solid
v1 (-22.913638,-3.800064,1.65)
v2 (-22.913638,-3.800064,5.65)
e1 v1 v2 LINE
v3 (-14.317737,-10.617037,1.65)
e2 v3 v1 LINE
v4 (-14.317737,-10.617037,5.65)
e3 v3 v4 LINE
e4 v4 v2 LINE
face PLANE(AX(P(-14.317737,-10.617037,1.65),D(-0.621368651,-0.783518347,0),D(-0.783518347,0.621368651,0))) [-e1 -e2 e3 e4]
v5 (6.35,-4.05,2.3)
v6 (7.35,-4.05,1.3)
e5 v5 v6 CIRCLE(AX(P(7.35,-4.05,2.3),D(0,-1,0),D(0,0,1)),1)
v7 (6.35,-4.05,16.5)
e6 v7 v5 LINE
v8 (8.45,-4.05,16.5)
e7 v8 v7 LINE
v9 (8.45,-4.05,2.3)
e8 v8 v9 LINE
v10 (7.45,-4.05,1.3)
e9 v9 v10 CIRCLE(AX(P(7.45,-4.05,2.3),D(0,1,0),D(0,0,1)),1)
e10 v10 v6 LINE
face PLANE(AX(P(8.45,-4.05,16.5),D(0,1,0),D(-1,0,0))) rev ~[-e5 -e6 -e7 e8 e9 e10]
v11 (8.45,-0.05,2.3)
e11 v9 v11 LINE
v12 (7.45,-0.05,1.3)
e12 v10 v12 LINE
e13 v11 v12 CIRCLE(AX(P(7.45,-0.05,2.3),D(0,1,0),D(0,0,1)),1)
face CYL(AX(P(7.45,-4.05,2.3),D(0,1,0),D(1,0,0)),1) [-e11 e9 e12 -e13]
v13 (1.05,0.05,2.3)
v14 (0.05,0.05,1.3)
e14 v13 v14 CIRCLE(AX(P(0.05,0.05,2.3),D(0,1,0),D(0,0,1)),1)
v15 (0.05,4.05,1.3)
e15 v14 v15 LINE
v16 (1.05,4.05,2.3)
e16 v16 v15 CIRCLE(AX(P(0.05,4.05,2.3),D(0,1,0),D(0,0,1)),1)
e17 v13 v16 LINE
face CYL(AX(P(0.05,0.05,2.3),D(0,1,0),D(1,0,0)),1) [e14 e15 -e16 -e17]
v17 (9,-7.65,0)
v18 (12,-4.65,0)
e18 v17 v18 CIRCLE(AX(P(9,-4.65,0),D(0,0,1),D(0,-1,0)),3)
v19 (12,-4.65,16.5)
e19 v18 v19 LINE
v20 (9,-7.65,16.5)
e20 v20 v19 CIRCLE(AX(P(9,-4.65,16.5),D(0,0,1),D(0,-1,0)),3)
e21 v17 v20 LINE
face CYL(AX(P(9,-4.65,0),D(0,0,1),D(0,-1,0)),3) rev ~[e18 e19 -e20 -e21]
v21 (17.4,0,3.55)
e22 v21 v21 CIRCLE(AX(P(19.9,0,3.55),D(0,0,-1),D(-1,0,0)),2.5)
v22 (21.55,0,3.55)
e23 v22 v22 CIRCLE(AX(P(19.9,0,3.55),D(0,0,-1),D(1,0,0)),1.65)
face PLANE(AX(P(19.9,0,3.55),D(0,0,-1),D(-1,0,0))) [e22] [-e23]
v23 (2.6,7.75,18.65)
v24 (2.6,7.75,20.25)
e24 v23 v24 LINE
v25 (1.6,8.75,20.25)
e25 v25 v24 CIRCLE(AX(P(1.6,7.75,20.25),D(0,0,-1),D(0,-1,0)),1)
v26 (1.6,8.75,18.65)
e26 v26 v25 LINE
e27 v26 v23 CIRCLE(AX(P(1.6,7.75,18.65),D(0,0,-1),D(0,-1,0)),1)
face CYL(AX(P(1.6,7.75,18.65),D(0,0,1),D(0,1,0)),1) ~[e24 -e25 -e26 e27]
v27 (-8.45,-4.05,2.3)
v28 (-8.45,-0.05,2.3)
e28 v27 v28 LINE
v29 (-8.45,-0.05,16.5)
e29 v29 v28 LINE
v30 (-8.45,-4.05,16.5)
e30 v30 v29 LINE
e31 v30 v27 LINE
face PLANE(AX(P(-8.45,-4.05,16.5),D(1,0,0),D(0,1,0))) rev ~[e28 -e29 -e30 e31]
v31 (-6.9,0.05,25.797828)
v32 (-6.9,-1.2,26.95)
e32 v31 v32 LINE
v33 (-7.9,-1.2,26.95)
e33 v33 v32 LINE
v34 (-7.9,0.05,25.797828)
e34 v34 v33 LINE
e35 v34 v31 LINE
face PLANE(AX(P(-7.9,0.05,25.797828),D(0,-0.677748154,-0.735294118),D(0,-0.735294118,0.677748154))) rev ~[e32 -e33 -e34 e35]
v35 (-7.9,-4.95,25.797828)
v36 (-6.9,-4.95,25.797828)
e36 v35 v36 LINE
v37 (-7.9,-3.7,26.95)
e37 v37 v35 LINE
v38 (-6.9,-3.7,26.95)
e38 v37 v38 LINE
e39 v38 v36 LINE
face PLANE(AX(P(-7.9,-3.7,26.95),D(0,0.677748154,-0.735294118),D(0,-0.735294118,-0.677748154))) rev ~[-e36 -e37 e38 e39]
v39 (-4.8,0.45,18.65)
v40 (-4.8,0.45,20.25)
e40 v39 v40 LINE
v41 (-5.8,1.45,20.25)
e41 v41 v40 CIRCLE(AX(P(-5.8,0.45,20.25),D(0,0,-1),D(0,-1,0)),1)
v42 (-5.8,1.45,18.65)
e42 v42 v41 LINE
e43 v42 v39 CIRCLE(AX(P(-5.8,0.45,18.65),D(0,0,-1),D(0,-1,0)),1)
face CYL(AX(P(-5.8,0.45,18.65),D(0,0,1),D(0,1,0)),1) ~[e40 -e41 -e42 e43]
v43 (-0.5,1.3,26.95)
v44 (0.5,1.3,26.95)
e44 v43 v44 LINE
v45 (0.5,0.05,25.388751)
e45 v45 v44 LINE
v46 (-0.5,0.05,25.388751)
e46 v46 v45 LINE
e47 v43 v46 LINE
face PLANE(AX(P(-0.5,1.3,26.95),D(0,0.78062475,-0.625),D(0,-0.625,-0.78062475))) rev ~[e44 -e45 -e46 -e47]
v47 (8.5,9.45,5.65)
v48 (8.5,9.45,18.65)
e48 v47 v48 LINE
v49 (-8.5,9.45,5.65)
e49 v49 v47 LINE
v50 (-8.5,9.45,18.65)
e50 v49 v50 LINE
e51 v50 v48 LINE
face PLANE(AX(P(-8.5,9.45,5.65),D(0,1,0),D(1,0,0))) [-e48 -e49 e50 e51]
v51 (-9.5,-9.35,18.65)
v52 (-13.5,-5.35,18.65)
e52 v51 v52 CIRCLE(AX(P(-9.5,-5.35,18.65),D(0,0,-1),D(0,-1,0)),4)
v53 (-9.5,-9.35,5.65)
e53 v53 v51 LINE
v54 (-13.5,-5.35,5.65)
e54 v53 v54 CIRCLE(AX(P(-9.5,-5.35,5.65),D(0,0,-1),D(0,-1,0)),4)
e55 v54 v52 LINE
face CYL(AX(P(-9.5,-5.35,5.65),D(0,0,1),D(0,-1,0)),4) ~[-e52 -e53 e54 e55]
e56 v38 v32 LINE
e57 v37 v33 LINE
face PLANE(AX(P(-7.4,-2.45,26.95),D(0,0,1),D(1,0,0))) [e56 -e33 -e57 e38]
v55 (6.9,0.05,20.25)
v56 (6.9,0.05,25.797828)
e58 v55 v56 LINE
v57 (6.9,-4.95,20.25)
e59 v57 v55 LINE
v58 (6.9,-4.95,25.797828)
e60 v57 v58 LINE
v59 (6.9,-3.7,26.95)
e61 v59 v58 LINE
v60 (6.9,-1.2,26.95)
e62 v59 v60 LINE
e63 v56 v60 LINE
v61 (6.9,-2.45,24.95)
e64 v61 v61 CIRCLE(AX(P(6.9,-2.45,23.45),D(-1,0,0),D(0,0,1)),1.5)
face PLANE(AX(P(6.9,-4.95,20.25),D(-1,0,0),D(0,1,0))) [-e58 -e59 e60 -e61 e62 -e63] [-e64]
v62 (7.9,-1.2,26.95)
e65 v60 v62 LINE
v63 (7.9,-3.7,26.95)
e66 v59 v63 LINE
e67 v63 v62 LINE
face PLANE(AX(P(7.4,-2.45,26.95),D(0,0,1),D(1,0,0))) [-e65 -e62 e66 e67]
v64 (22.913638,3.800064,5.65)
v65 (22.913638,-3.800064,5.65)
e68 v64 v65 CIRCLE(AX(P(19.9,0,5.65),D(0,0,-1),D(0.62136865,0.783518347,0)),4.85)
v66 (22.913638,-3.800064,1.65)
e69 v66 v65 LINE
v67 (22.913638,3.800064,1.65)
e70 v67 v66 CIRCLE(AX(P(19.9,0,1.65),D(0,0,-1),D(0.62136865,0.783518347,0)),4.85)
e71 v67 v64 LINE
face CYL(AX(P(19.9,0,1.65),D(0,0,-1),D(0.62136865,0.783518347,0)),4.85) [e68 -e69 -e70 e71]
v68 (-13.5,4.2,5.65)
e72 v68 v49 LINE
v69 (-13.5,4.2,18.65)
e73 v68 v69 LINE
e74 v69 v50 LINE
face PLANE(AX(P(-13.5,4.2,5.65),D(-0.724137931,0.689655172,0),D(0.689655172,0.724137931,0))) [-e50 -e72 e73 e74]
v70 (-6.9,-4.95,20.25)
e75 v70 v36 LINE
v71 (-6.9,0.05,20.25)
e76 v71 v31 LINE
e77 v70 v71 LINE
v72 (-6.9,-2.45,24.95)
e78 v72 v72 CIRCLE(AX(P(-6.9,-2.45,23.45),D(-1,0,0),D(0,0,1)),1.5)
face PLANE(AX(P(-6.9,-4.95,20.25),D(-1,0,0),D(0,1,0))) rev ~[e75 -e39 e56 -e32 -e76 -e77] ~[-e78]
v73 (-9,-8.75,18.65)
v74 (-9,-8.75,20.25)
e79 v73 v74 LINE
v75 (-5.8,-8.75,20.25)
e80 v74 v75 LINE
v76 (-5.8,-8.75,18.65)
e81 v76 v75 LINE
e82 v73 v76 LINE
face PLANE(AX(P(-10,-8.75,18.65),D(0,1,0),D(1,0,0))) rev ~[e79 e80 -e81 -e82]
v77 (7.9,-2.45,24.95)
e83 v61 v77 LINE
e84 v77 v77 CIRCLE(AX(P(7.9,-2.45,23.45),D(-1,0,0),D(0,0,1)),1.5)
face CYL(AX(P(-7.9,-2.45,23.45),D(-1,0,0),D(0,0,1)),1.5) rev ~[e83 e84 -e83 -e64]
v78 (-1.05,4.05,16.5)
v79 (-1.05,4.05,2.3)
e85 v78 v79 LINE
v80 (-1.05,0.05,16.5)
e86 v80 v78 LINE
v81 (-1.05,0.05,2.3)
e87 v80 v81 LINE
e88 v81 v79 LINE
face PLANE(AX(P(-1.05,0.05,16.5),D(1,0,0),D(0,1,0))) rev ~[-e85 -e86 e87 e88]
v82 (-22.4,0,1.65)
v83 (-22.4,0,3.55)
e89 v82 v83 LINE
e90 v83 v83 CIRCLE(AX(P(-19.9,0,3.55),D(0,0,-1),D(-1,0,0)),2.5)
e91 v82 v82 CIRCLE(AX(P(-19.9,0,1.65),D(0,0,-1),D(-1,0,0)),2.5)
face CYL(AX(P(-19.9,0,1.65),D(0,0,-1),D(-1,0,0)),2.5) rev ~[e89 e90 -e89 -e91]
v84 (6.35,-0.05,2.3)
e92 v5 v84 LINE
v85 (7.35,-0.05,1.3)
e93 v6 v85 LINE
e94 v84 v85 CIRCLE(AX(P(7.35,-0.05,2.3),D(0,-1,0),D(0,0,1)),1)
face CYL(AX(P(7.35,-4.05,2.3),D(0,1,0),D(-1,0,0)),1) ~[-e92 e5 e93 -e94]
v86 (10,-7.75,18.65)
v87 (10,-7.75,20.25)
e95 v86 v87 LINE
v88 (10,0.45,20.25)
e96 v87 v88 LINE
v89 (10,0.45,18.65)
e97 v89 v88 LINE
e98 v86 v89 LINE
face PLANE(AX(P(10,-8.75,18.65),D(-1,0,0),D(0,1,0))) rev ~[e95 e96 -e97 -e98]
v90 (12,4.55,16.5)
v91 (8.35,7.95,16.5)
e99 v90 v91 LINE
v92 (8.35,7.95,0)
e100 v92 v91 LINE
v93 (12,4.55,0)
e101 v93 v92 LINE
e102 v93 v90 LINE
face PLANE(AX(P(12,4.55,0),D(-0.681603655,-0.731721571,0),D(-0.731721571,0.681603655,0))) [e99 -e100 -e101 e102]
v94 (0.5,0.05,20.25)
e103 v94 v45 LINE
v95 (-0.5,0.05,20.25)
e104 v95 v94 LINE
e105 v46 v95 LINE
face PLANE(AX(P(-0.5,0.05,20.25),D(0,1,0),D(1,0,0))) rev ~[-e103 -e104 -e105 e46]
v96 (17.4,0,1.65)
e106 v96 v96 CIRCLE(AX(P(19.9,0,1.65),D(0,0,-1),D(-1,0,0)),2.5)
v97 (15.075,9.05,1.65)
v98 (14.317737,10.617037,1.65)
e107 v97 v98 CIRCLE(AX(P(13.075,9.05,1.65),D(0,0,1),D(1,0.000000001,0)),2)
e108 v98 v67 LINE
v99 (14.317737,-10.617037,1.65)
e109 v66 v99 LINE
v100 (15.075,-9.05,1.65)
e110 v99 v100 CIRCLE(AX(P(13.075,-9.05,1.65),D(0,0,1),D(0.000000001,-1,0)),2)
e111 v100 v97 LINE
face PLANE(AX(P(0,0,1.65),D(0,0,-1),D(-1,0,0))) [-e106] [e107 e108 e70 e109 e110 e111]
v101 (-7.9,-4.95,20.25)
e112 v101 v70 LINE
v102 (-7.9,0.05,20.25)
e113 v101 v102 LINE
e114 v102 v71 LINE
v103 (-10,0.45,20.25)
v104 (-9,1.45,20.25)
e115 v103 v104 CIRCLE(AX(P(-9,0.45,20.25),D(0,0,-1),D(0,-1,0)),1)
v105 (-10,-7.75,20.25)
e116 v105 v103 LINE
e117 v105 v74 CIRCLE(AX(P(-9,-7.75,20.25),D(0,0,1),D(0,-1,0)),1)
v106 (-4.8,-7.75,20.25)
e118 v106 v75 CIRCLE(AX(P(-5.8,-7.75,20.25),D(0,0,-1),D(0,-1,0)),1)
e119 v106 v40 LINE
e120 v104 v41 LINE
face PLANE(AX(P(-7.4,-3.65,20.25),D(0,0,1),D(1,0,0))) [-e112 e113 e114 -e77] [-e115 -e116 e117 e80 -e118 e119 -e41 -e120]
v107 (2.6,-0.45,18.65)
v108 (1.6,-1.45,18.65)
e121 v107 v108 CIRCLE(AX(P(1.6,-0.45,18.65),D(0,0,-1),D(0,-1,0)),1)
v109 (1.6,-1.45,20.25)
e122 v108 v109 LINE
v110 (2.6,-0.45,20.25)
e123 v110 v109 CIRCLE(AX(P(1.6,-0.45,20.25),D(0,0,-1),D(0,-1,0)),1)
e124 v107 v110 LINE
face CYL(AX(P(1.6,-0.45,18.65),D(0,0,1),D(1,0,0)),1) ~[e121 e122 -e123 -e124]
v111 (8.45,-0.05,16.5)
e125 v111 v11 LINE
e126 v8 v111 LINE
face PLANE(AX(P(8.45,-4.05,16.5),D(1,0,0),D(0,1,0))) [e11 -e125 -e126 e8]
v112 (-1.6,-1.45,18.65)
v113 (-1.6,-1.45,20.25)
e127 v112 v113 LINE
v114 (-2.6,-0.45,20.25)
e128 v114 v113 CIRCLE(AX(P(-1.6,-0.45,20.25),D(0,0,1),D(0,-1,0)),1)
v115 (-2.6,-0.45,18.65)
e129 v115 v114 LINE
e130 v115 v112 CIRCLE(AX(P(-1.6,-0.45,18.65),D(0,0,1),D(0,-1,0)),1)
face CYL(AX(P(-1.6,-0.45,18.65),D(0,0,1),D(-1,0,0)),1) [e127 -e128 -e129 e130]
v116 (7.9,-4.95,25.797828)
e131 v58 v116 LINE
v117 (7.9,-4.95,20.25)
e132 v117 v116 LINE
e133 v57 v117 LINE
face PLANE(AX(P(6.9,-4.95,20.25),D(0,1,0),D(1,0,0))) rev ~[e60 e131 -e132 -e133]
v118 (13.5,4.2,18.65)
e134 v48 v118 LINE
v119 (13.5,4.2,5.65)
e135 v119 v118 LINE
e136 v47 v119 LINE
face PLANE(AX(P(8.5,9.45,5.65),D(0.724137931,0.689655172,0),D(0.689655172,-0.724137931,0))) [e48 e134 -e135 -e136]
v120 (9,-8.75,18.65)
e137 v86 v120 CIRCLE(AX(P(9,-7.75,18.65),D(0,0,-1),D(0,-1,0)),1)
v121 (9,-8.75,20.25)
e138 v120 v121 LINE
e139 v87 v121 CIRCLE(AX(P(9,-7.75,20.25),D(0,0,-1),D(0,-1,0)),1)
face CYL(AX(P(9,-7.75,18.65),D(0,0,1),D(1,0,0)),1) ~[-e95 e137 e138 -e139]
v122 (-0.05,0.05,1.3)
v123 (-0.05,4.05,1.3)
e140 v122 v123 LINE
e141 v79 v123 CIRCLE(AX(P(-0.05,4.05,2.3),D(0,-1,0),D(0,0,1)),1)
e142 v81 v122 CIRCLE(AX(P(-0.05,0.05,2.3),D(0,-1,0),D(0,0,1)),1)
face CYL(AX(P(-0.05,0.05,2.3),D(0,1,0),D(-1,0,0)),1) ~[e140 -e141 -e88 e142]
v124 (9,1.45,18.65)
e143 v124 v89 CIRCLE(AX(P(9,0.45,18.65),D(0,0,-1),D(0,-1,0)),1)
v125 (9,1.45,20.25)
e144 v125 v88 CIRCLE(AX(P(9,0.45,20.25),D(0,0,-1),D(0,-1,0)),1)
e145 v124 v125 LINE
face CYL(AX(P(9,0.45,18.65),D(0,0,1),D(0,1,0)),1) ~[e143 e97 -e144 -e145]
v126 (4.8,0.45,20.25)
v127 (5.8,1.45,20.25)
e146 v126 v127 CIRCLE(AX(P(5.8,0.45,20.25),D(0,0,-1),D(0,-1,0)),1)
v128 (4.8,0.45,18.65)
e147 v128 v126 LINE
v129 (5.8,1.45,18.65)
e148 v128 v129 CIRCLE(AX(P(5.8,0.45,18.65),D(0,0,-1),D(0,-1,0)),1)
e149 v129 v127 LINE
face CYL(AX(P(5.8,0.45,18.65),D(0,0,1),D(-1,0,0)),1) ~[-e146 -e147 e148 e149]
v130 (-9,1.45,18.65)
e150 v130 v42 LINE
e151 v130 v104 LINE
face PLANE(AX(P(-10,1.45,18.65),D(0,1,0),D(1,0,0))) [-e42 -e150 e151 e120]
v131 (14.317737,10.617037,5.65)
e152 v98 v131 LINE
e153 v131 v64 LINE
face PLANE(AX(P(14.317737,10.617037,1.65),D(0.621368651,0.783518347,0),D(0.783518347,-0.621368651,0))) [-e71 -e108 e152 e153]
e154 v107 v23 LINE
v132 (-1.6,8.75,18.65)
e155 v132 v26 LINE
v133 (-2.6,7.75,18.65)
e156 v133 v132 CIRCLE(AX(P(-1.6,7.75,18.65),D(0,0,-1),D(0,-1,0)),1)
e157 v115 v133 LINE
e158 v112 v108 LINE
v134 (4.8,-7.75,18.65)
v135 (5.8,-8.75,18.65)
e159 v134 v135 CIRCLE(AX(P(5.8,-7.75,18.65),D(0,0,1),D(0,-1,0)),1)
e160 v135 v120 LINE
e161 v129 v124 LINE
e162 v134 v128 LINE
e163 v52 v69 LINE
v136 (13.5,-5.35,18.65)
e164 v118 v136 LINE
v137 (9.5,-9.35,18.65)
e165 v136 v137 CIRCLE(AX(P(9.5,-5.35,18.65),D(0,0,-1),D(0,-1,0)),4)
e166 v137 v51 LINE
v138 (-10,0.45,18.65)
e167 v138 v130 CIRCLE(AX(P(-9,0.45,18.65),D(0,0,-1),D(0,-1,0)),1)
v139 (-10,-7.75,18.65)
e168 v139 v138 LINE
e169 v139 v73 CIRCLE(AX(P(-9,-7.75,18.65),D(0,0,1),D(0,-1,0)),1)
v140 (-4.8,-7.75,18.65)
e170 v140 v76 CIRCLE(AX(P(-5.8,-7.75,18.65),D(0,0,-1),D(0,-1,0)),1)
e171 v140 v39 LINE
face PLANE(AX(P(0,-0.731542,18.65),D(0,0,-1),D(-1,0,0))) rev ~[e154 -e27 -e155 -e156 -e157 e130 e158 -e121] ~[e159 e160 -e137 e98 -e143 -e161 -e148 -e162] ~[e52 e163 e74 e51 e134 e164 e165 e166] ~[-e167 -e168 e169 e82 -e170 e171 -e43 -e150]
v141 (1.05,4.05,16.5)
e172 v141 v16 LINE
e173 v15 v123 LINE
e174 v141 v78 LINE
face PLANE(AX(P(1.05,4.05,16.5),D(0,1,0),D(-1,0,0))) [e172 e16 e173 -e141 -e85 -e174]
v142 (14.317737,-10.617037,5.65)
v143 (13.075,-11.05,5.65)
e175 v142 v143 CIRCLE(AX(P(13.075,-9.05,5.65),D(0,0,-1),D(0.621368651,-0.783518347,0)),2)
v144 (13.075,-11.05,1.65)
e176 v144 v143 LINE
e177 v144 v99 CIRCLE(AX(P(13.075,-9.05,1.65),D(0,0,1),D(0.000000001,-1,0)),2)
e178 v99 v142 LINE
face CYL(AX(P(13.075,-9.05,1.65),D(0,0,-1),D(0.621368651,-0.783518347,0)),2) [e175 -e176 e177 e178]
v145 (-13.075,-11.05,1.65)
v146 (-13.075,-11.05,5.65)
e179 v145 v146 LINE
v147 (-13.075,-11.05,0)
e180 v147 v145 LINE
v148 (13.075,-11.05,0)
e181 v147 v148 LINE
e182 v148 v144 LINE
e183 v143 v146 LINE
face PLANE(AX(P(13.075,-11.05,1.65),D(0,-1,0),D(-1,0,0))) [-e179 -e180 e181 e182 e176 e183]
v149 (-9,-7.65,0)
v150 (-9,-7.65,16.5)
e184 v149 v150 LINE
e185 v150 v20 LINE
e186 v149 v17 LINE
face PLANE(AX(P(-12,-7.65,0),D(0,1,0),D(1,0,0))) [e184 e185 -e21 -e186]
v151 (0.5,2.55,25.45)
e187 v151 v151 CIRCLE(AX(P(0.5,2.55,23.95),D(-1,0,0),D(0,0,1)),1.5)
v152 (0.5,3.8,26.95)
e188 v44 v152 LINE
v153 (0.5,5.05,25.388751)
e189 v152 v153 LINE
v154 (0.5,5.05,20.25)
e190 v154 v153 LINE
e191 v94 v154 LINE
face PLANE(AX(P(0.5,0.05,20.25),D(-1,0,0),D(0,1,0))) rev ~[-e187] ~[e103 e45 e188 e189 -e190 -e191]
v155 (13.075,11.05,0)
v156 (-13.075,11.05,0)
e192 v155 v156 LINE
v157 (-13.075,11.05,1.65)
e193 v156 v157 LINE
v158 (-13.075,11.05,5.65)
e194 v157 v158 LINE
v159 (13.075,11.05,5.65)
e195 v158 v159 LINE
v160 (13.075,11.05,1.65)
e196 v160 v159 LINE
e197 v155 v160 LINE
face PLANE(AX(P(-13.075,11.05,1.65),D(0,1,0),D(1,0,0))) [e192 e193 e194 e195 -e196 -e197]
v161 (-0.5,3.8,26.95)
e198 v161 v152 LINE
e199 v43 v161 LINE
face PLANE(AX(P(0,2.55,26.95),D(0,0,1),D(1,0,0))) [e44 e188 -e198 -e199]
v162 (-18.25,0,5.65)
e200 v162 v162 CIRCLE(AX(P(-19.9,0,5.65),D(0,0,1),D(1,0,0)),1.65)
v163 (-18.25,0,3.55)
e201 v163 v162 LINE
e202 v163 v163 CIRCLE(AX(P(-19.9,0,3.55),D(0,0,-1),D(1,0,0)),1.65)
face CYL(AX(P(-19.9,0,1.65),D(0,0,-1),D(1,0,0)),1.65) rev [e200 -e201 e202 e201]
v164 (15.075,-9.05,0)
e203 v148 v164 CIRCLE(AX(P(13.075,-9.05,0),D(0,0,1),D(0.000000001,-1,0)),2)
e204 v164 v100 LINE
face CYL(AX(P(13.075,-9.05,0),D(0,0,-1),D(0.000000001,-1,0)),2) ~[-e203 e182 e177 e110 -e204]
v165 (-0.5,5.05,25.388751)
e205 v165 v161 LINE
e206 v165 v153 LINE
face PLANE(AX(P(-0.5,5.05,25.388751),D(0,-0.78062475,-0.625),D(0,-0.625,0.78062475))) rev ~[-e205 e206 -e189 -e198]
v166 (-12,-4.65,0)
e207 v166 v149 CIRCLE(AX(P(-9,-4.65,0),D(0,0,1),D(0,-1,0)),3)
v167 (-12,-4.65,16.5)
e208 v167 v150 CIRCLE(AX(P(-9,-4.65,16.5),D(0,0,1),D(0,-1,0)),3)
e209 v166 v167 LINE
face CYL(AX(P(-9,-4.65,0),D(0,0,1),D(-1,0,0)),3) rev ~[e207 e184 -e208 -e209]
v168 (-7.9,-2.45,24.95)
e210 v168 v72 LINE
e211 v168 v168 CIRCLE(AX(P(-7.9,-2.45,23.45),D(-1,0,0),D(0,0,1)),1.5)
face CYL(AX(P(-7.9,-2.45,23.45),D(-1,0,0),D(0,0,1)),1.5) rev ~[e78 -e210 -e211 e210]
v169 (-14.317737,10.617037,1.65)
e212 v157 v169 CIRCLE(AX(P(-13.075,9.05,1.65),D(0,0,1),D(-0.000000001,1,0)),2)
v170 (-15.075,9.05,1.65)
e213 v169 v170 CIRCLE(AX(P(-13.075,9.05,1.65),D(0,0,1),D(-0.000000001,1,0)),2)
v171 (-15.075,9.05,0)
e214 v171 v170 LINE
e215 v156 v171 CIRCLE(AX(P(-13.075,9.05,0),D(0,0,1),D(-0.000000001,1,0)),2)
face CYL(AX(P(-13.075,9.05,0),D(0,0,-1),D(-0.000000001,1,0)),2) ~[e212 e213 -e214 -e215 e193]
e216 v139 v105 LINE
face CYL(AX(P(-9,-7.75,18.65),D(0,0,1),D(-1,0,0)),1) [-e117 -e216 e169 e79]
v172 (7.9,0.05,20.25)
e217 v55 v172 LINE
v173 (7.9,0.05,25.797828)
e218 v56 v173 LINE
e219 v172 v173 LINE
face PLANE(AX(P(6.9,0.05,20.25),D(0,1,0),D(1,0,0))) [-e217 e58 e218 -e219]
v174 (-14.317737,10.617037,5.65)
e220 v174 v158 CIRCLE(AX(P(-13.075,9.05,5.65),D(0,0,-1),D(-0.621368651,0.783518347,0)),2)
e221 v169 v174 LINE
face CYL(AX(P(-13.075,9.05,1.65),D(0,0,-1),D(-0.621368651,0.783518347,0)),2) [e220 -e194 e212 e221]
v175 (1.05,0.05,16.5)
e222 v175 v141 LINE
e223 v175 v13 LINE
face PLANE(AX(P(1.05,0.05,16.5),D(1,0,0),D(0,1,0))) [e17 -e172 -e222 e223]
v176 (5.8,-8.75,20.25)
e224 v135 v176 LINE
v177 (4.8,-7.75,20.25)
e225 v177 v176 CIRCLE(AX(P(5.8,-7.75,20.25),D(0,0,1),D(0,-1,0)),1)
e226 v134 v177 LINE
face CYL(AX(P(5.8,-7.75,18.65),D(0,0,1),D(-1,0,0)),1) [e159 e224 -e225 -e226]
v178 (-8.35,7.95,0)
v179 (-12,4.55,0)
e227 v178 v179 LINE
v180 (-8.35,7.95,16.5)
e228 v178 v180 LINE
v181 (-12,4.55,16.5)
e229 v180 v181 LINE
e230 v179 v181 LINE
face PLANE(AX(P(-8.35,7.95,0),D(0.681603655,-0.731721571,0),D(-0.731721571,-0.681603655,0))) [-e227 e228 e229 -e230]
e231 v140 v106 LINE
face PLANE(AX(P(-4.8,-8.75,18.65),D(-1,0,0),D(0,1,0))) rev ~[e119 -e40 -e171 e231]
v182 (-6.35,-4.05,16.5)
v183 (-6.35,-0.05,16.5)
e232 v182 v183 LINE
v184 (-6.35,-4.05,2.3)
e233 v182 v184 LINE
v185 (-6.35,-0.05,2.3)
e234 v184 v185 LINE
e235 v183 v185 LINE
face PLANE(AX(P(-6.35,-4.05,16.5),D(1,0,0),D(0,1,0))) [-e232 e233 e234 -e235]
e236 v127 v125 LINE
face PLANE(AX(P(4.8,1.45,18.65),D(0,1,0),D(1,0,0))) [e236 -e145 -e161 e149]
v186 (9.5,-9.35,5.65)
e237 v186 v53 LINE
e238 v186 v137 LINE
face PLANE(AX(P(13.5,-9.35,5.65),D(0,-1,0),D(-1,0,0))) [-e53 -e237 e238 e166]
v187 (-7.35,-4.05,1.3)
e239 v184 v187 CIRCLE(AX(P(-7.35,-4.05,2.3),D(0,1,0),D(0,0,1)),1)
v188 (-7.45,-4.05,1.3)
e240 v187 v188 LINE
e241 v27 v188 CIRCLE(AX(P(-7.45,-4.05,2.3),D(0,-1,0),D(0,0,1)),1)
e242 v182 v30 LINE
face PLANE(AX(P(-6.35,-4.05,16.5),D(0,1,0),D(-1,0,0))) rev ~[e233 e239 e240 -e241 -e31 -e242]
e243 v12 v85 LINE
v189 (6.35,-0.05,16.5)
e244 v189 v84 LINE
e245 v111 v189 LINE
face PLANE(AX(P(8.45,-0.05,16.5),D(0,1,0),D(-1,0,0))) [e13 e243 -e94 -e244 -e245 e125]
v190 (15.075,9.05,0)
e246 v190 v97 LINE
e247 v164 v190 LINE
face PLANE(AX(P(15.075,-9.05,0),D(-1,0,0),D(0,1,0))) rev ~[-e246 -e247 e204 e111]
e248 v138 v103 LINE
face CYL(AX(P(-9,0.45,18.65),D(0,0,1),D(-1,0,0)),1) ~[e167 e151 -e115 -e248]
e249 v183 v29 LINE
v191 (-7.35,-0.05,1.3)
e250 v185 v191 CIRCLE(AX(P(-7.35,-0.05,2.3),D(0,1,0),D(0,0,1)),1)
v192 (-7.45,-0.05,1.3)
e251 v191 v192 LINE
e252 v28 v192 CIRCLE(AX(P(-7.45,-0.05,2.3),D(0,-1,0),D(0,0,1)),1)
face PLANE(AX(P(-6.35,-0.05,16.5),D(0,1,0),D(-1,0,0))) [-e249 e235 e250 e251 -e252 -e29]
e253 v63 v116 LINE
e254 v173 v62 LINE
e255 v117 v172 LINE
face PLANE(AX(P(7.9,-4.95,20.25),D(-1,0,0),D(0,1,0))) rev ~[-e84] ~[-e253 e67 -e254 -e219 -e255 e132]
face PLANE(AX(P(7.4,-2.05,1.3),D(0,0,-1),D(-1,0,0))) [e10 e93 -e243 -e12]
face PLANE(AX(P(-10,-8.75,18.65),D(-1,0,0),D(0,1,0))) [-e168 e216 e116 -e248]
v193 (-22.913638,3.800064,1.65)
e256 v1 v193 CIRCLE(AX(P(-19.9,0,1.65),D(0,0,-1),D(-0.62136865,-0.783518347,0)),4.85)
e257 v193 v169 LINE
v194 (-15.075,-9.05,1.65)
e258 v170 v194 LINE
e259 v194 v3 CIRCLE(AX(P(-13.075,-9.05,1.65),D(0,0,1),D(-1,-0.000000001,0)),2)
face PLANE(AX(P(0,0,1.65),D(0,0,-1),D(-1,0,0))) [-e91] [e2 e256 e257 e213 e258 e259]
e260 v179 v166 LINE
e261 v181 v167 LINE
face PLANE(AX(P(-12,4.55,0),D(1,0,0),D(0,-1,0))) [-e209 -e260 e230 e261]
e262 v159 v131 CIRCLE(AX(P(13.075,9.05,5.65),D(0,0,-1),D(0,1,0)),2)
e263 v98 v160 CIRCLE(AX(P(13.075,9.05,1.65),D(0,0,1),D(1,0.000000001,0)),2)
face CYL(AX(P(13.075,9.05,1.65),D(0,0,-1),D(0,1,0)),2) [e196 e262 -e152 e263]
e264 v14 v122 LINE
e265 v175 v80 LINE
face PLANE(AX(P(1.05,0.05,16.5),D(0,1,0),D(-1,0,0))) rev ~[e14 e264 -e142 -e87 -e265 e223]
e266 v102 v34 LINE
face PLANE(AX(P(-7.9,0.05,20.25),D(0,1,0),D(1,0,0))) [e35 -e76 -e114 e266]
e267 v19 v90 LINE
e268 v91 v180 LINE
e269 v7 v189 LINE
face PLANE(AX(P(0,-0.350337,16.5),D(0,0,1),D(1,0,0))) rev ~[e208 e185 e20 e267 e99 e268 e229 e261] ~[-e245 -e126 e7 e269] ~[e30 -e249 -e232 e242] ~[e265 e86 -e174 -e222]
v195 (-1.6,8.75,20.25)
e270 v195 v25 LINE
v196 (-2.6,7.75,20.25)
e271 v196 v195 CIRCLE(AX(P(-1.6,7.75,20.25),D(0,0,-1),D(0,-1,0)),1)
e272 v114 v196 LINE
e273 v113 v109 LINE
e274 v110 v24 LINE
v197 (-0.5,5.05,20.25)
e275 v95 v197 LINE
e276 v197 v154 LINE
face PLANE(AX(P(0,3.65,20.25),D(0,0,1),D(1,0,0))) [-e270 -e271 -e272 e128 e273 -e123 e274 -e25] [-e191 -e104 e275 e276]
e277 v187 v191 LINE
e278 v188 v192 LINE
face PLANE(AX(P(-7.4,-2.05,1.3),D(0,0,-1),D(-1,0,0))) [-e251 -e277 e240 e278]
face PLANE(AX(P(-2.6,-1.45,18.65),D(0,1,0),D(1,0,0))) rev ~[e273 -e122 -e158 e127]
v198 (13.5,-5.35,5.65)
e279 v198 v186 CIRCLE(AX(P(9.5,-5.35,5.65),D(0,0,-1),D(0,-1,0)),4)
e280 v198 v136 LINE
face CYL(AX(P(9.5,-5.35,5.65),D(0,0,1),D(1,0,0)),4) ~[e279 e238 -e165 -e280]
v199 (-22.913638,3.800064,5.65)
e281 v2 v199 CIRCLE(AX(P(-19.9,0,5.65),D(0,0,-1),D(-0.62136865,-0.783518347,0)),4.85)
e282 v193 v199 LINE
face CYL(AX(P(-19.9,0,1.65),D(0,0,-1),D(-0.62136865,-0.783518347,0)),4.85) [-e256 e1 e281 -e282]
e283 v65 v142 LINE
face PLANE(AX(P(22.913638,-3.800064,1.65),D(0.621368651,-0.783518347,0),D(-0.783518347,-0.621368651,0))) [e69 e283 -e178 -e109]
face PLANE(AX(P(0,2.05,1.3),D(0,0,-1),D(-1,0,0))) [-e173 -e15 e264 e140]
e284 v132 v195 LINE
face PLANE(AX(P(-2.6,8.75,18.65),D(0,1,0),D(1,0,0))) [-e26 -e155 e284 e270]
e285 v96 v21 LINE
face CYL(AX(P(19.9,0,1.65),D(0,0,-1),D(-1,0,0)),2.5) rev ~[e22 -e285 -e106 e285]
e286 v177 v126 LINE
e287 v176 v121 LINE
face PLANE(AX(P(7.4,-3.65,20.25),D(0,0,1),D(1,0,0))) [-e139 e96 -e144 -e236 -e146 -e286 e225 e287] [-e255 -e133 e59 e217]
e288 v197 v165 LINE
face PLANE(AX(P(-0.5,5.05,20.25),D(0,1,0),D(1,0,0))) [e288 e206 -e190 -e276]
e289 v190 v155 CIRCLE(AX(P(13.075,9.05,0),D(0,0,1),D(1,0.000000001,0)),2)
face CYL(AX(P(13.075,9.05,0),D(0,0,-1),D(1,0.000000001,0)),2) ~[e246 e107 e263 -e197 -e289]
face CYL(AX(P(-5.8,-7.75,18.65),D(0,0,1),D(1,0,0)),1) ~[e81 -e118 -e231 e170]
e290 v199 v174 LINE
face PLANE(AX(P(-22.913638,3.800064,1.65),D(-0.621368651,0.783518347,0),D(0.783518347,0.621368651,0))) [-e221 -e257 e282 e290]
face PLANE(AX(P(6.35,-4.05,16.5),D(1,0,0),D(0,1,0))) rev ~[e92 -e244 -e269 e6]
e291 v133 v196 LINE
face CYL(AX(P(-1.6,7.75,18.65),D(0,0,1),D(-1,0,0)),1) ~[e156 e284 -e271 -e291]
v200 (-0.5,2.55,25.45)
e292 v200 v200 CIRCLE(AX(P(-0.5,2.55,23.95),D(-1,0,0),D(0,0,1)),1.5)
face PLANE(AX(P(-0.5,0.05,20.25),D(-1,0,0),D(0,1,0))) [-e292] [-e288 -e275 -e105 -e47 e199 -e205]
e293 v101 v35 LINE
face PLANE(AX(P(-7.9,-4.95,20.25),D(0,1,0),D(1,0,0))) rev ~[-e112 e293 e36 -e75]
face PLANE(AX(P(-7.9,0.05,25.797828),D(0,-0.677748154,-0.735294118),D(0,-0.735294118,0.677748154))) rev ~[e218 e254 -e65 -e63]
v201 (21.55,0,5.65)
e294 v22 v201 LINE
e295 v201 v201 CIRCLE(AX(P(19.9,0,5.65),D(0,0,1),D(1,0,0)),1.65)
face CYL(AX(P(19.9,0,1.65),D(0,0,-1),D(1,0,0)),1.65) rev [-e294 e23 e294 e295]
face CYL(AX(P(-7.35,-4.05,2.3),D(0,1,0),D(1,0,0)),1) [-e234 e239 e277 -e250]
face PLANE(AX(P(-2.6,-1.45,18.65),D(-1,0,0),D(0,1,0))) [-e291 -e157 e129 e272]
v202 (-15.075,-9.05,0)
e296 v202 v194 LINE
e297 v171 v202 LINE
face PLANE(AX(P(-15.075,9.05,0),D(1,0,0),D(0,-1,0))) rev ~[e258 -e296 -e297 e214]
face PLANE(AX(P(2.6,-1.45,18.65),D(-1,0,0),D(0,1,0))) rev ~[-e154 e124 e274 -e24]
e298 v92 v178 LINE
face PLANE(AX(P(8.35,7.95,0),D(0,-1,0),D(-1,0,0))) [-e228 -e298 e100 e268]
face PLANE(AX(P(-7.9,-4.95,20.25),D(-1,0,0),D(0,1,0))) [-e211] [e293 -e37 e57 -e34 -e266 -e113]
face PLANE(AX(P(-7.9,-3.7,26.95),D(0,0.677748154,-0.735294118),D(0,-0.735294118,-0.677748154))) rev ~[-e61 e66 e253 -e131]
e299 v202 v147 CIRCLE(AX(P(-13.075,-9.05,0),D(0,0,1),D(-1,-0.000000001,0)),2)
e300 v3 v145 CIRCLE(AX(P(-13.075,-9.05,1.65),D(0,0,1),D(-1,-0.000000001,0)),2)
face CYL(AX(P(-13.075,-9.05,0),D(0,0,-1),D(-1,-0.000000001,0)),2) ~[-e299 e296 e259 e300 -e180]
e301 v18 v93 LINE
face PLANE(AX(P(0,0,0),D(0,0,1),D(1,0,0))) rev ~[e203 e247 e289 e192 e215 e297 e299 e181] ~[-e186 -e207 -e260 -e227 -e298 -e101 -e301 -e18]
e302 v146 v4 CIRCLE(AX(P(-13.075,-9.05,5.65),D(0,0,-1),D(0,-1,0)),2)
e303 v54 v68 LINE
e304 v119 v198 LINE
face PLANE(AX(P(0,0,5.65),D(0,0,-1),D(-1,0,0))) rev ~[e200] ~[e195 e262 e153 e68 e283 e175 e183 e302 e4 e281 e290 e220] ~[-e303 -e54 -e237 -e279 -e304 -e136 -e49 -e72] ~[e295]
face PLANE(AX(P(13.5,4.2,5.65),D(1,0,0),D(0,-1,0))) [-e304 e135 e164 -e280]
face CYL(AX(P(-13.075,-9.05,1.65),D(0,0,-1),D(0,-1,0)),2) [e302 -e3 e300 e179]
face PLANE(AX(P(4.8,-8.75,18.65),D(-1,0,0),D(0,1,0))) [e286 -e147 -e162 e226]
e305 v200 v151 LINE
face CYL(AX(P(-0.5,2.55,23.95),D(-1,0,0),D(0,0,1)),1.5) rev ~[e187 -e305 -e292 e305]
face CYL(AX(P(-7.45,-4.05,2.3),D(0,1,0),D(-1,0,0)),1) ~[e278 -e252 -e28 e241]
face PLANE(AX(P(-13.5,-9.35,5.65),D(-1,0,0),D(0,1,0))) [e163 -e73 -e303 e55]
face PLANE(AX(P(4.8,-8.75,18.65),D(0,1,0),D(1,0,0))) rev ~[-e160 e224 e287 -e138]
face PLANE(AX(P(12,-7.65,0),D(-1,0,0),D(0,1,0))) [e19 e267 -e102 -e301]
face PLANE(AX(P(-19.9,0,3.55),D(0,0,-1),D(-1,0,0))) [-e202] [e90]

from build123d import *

# Parameters (mm, degrees)
BOSS_EXTRUDE1_DEPTH = 1.65
SKETCH2_R           = 1.650000009
BOSS_EXTRUDE2_DEPTH = 4
BOSS_EXTRUDE3_DEPTH = 13
CUT_EXTRUDE1_DEPTH  = 16.5
FILLET1_R           = 4
FILLET2_R           = 3
SKETCH5_R           = 2.5
CUT_EXTRUDE2_DEPTH  = 1.9
SKETCH6_W           = 5.2
SKETCH6_H           = 10.2
BOSS_EXTRUDE4_DEPTH = 1.6
FILLET3_R           = 1
SKETCH7_W           = 2.1
SKETCH7_H           = 4
BOSS_EXTRUDE5_DEPTH = 15.2
FILLET4_R           = 1
SKETCH8_W           = 1
SKETCH8_H           = 5
BOSS_EXTRUDE6_DEPTH = 6.7
SKETCH9_R           = 1.5
CUT_EXTRUDE3_DEPTH  = 44.75417123
CUT_EXTRUDE4_REACH  = 40.548
SKETCH10_R          = 1.5


with BuildPart() as part:
    # Sketch1 → Boss-Extrude1 (new body)
    with BuildSketch(Plane.XY):
        with BuildLine():
            Line((-13.075, -11.05), (13.075, -11.05))
            ThreePointArc((13.075, -11.05), (14.489213562, -10.464213562), (15.075, -9.05))
            Line((15.075, -9.05), (15.075, 9.05))
            ThreePointArc((15.075, 9.05), (14.489213562, 10.464213562), (13.075, 11.05))
            Line((13.075, 11.05), (-13.075, 11.05))
            ThreePointArc((-13.075, 11.05), (-14.489213562, 10.464213562), (-15.075, 9.05))
            Line((-15.075, 9.05), (-15.075, -9.05))
            ThreePointArc((-15.075, -9.05), (-14.489213562, -10.464213562), (-13.075, -11.05))
        make_face()
    extrude(amount=BOSS_EXTRUDE1_DEPTH)

    # Sketch2 → Boss-Extrude2 (add)
    with BuildSketch(Plane.XY.offset(1.65)):
        with BuildLine():
            Line((14.317737301, 10.617036694), (22.913637955, 3.800063983))
            ThreePointArc((22.913637955, 3.800063983), (24.75, 0), (22.913637955, -3.800063983))
            Line((22.913637955, -3.800063983), (14.317737301, -10.617036694))
            ThreePointArc((14.317737301, -10.617036694), (13.732999473, -10.938660026), (13.075, -11.05))
            Line((13.075, -11.05), (-13.075, -11.05))
            ThreePointArc((-13.075, -11.05), (-13.732999473, -10.938660026), (-14.317737301, -10.617036694))
            Line((-14.317737301, -10.617036694), (-22.913637955, -3.800063983))
            ThreePointArc((-22.913637955, -3.800063983), (-24.75, 0), (-22.913637955, 3.800063983))
            Line((-22.913637955, 3.800063983), (-14.317737301, 10.617036694))
            ThreePointArc((-14.317737301, 10.617036694), (-13.732999473, 10.938660026), (-13.075, 11.05))
            Line((-13.075, 11.05), (13.075, 11.05))
            ThreePointArc((13.075, 11.05), (13.732999473, 10.938660026), (14.317737301, 10.617036694))
        make_face()
        with Locations((19.9, 0)):
            Circle(SKETCH2_R, mode=Mode.SUBTRACT)
        with Locations((-19.9, 0)):
            Circle(SKETCH2_R, mode=Mode.SUBTRACT)
    extrude(amount=BOSS_EXTRUDE2_DEPTH)

    # Sketch3 → Boss-Extrude3 (add)
    with BuildSketch(Plane.XY.offset(5.65)):
        Polygon((-8.5, 9.45), (8.5, 9.45), (13.5, 4.2), (13.5, -9.35), (-13.5, -9.35), (-13.5, 4.2), align=None)
    extrude(amount=BOSS_EXTRUDE3_DEPTH)

    # Sketch4 → Cut-Extrude1 (cut)
    with BuildSketch(Plane(origin=(0, 0, 0), x_dir=(-1, 0, 0), z_dir=(0, 0, -1))):
        Polygon((-8.35, 7.95), (8.35, 7.95), (12, 4.55), (12, -7.65), (-12, -7.65), (-12, 4.55), align=None)
    extrude(amount=-CUT_EXTRUDE1_DEPTH, mode=Mode.SUBTRACT)

    # Fillet1
    fillet1_edges = [part.edges().sort_by_distance(p)[0] for p in [
        (-13.5, -9.35, 12.15),
        (13.5, -9.35, 12.15),
    ]]
    fillet(fillet1_edges, radius=FILLET1_R)

    # Fillet2
    fillet2_edges = [part.edges().sort_by_distance(p)[0] for p in [
        (-12, -7.65, 8.25),
        (12, -7.65, 8.25),
    ]]
    fillet(fillet2_edges, radius=FILLET2_R)

    # Sketch5 → Cut-Extrude2 (cut)
    with BuildSketch(Plane(origin=(0, 0, 1.65), x_dir=(-1, 0, 0), z_dir=(0, 0, -1))):
        with Locations((-19.9, 0)):
            Circle(SKETCH5_R)
        with Locations((19.9, 0)):
            Circle(SKETCH5_R)
    extrude(amount=-CUT_EXTRUDE2_DEPTH, mode=Mode.SUBTRACT)

    # Sketch6 → Boss-Extrude4 (add)
    with BuildSketch(Plane.XY.offset(18.65)):
        with Locations((0, 3.65)):
            Rectangle(SKETCH6_W, SKETCH6_H)
        with Locations((7.4, -3.65)):
            Rectangle(SKETCH6_W, SKETCH6_H)
        with Locations((-7.4, -3.65)):
            Rectangle(SKETCH6_W, SKETCH6_H)
    extrude(amount=BOSS_EXTRUDE4_DEPTH)

    # Fillet3
    fillet3_edges = [part.edges().sort_by_distance(p)[0] for p in [
        (-2.6, 8.75, 19.45),
        (-2.6, -1.45, 19.45),
        (2.6, -1.45, 19.45),
        (2.6, 8.75, 19.45),
        (4.8, 1.45, 19.45),
        (4.8, -8.75, 19.45),
        (10, -8.75, 19.45),
        (10, 1.45, 19.45),
        (-10, 1.45, 19.45),
        (-10, -8.75, 19.45),
        (-4.8, -8.75, 19.45),
        (-4.8, 1.45, 19.45),
    ]]
    fillet(fillet3_edges, radius=FILLET3_R)

    # Sketch7 → Boss-Extrude5 (add)
    with BuildSketch(Plane(origin=(0, 0, 16.5), x_dir=(-1, 0, 0), z_dir=(0, 0, -1))):
        with Locations((0, 2.05)):
            Rectangle(SKETCH7_W, SKETCH7_H)
        with Locations((-7.4, -2.05)):
            Rectangle(SKETCH7_W, SKETCH7_H)
        with Locations((7.4, -2.05)):
            Rectangle(SKETCH7_W, SKETCH7_H)
    extrude(amount=BOSS_EXTRUDE5_DEPTH)

    # Fillet4
    fillet4_edges = [part.edges().sort_by_distance(p)[0] for p in [
        (1.05, 2.05, 1.3),
        (-1.05, 2.05, 1.3),
        (8.45, -2.05, 1.3),
        (6.35, -2.05, 1.3),
        (-6.35, -2.05, 1.3),
        (-8.45, -2.05, 1.3),
    ]]
    fillet(fillet4_edges, radius=FILLET4_R)

    # Sketch8 → Boss-Extrude6 (add)
    with BuildSketch(Plane.XY.offset(20.25)):
        with Locations((-7.4, -2.45)):
            Rectangle(SKETCH8_W, SKETCH8_H)
        with Locations((0, 2.55)):
            Rectangle(SKETCH8_W, SKETCH8_H)
        with Locations((7.4, -2.45)):
            Rectangle(SKETCH8_W, SKETCH8_H)
    extrude(amount=BOSS_EXTRUDE6_DEPTH)

    # Sketch9 → Cut-Extrude3 (cut, through all)
    with BuildSketch(Plane.ZY.offset(7.9)):
        with Locations((23.45, -2.45)):
            Circle(SKETCH9_R)
        Polygon((25.797828138, 0.05), (26.95, -1.2), (26.95, 0.05), align=None)
        Polygon((26.95, -3.7), (25.797828138, -4.95), (26.95, -4.95), align=None)
    extrude(amount=-CUT_EXTRUDE3_DEPTH, mode=Mode.SUBTRACT)

    # Sketch10 → Cut-Extrude4 (cut, up to next)
    with BuildSketch(Plane.ZY.offset(0.5), mode=Mode.PRIVATE) as cut_extrude4_sk1:
        with Locations((23.95, 2.55)):
            Circle(SKETCH10_R)
    cut_extrude4_tool1 = extrude(cut_extrude4_sk1.sketch, amount=-CUT_EXTRUDE4_REACH, mode=Mode.PRIVATE) & part.part
    # Sketch10 → Cut-Extrude4 (cut, up to next)
    with BuildSketch(Plane.ZY.offset(0.5), mode=Mode.PRIVATE) as cut_extrude4_sk2:
        Polygon((25.3887505, 5.05), (26.95, 3.8), (26.95, 5.05), align=None)
    cut_extrude4_tool2 = extrude(cut_extrude4_sk2.sketch, amount=-CUT_EXTRUDE4_REACH, mode=Mode.PRIVATE) & part.part
    # Sketch10 → Cut-Extrude4 (cut, up to next)
    with BuildSketch(Plane.ZY.offset(0.5), mode=Mode.PRIVATE) as cut_extrude4_sk3:
        Polygon((26.95, 1.3), (25.3887505, 0.05), (26.95, 0.05), align=None)
    cut_extrude4_tool3 = extrude(cut_extrude4_sk3.sketch, amount=-CUT_EXTRUDE4_REACH, mode=Mode.PRIVATE) & part.part
    add(cut_extrude4_tool1.solids().sort_by_distance((-0.5, 2.55, 23.95))[0], mode=Mode.SUBTRACT)
    add(cut_extrude4_tool2.solids().sort_by_distance((-0.5, 4.633333, 26.429584))[0], mode=Mode.SUBTRACT)
    add(cut_extrude4_tool3.solids().sort_by_distance((-0.5, 0.466667, 26.429584))[0], mode=Mode.SUBTRACT)


solid = part.part
